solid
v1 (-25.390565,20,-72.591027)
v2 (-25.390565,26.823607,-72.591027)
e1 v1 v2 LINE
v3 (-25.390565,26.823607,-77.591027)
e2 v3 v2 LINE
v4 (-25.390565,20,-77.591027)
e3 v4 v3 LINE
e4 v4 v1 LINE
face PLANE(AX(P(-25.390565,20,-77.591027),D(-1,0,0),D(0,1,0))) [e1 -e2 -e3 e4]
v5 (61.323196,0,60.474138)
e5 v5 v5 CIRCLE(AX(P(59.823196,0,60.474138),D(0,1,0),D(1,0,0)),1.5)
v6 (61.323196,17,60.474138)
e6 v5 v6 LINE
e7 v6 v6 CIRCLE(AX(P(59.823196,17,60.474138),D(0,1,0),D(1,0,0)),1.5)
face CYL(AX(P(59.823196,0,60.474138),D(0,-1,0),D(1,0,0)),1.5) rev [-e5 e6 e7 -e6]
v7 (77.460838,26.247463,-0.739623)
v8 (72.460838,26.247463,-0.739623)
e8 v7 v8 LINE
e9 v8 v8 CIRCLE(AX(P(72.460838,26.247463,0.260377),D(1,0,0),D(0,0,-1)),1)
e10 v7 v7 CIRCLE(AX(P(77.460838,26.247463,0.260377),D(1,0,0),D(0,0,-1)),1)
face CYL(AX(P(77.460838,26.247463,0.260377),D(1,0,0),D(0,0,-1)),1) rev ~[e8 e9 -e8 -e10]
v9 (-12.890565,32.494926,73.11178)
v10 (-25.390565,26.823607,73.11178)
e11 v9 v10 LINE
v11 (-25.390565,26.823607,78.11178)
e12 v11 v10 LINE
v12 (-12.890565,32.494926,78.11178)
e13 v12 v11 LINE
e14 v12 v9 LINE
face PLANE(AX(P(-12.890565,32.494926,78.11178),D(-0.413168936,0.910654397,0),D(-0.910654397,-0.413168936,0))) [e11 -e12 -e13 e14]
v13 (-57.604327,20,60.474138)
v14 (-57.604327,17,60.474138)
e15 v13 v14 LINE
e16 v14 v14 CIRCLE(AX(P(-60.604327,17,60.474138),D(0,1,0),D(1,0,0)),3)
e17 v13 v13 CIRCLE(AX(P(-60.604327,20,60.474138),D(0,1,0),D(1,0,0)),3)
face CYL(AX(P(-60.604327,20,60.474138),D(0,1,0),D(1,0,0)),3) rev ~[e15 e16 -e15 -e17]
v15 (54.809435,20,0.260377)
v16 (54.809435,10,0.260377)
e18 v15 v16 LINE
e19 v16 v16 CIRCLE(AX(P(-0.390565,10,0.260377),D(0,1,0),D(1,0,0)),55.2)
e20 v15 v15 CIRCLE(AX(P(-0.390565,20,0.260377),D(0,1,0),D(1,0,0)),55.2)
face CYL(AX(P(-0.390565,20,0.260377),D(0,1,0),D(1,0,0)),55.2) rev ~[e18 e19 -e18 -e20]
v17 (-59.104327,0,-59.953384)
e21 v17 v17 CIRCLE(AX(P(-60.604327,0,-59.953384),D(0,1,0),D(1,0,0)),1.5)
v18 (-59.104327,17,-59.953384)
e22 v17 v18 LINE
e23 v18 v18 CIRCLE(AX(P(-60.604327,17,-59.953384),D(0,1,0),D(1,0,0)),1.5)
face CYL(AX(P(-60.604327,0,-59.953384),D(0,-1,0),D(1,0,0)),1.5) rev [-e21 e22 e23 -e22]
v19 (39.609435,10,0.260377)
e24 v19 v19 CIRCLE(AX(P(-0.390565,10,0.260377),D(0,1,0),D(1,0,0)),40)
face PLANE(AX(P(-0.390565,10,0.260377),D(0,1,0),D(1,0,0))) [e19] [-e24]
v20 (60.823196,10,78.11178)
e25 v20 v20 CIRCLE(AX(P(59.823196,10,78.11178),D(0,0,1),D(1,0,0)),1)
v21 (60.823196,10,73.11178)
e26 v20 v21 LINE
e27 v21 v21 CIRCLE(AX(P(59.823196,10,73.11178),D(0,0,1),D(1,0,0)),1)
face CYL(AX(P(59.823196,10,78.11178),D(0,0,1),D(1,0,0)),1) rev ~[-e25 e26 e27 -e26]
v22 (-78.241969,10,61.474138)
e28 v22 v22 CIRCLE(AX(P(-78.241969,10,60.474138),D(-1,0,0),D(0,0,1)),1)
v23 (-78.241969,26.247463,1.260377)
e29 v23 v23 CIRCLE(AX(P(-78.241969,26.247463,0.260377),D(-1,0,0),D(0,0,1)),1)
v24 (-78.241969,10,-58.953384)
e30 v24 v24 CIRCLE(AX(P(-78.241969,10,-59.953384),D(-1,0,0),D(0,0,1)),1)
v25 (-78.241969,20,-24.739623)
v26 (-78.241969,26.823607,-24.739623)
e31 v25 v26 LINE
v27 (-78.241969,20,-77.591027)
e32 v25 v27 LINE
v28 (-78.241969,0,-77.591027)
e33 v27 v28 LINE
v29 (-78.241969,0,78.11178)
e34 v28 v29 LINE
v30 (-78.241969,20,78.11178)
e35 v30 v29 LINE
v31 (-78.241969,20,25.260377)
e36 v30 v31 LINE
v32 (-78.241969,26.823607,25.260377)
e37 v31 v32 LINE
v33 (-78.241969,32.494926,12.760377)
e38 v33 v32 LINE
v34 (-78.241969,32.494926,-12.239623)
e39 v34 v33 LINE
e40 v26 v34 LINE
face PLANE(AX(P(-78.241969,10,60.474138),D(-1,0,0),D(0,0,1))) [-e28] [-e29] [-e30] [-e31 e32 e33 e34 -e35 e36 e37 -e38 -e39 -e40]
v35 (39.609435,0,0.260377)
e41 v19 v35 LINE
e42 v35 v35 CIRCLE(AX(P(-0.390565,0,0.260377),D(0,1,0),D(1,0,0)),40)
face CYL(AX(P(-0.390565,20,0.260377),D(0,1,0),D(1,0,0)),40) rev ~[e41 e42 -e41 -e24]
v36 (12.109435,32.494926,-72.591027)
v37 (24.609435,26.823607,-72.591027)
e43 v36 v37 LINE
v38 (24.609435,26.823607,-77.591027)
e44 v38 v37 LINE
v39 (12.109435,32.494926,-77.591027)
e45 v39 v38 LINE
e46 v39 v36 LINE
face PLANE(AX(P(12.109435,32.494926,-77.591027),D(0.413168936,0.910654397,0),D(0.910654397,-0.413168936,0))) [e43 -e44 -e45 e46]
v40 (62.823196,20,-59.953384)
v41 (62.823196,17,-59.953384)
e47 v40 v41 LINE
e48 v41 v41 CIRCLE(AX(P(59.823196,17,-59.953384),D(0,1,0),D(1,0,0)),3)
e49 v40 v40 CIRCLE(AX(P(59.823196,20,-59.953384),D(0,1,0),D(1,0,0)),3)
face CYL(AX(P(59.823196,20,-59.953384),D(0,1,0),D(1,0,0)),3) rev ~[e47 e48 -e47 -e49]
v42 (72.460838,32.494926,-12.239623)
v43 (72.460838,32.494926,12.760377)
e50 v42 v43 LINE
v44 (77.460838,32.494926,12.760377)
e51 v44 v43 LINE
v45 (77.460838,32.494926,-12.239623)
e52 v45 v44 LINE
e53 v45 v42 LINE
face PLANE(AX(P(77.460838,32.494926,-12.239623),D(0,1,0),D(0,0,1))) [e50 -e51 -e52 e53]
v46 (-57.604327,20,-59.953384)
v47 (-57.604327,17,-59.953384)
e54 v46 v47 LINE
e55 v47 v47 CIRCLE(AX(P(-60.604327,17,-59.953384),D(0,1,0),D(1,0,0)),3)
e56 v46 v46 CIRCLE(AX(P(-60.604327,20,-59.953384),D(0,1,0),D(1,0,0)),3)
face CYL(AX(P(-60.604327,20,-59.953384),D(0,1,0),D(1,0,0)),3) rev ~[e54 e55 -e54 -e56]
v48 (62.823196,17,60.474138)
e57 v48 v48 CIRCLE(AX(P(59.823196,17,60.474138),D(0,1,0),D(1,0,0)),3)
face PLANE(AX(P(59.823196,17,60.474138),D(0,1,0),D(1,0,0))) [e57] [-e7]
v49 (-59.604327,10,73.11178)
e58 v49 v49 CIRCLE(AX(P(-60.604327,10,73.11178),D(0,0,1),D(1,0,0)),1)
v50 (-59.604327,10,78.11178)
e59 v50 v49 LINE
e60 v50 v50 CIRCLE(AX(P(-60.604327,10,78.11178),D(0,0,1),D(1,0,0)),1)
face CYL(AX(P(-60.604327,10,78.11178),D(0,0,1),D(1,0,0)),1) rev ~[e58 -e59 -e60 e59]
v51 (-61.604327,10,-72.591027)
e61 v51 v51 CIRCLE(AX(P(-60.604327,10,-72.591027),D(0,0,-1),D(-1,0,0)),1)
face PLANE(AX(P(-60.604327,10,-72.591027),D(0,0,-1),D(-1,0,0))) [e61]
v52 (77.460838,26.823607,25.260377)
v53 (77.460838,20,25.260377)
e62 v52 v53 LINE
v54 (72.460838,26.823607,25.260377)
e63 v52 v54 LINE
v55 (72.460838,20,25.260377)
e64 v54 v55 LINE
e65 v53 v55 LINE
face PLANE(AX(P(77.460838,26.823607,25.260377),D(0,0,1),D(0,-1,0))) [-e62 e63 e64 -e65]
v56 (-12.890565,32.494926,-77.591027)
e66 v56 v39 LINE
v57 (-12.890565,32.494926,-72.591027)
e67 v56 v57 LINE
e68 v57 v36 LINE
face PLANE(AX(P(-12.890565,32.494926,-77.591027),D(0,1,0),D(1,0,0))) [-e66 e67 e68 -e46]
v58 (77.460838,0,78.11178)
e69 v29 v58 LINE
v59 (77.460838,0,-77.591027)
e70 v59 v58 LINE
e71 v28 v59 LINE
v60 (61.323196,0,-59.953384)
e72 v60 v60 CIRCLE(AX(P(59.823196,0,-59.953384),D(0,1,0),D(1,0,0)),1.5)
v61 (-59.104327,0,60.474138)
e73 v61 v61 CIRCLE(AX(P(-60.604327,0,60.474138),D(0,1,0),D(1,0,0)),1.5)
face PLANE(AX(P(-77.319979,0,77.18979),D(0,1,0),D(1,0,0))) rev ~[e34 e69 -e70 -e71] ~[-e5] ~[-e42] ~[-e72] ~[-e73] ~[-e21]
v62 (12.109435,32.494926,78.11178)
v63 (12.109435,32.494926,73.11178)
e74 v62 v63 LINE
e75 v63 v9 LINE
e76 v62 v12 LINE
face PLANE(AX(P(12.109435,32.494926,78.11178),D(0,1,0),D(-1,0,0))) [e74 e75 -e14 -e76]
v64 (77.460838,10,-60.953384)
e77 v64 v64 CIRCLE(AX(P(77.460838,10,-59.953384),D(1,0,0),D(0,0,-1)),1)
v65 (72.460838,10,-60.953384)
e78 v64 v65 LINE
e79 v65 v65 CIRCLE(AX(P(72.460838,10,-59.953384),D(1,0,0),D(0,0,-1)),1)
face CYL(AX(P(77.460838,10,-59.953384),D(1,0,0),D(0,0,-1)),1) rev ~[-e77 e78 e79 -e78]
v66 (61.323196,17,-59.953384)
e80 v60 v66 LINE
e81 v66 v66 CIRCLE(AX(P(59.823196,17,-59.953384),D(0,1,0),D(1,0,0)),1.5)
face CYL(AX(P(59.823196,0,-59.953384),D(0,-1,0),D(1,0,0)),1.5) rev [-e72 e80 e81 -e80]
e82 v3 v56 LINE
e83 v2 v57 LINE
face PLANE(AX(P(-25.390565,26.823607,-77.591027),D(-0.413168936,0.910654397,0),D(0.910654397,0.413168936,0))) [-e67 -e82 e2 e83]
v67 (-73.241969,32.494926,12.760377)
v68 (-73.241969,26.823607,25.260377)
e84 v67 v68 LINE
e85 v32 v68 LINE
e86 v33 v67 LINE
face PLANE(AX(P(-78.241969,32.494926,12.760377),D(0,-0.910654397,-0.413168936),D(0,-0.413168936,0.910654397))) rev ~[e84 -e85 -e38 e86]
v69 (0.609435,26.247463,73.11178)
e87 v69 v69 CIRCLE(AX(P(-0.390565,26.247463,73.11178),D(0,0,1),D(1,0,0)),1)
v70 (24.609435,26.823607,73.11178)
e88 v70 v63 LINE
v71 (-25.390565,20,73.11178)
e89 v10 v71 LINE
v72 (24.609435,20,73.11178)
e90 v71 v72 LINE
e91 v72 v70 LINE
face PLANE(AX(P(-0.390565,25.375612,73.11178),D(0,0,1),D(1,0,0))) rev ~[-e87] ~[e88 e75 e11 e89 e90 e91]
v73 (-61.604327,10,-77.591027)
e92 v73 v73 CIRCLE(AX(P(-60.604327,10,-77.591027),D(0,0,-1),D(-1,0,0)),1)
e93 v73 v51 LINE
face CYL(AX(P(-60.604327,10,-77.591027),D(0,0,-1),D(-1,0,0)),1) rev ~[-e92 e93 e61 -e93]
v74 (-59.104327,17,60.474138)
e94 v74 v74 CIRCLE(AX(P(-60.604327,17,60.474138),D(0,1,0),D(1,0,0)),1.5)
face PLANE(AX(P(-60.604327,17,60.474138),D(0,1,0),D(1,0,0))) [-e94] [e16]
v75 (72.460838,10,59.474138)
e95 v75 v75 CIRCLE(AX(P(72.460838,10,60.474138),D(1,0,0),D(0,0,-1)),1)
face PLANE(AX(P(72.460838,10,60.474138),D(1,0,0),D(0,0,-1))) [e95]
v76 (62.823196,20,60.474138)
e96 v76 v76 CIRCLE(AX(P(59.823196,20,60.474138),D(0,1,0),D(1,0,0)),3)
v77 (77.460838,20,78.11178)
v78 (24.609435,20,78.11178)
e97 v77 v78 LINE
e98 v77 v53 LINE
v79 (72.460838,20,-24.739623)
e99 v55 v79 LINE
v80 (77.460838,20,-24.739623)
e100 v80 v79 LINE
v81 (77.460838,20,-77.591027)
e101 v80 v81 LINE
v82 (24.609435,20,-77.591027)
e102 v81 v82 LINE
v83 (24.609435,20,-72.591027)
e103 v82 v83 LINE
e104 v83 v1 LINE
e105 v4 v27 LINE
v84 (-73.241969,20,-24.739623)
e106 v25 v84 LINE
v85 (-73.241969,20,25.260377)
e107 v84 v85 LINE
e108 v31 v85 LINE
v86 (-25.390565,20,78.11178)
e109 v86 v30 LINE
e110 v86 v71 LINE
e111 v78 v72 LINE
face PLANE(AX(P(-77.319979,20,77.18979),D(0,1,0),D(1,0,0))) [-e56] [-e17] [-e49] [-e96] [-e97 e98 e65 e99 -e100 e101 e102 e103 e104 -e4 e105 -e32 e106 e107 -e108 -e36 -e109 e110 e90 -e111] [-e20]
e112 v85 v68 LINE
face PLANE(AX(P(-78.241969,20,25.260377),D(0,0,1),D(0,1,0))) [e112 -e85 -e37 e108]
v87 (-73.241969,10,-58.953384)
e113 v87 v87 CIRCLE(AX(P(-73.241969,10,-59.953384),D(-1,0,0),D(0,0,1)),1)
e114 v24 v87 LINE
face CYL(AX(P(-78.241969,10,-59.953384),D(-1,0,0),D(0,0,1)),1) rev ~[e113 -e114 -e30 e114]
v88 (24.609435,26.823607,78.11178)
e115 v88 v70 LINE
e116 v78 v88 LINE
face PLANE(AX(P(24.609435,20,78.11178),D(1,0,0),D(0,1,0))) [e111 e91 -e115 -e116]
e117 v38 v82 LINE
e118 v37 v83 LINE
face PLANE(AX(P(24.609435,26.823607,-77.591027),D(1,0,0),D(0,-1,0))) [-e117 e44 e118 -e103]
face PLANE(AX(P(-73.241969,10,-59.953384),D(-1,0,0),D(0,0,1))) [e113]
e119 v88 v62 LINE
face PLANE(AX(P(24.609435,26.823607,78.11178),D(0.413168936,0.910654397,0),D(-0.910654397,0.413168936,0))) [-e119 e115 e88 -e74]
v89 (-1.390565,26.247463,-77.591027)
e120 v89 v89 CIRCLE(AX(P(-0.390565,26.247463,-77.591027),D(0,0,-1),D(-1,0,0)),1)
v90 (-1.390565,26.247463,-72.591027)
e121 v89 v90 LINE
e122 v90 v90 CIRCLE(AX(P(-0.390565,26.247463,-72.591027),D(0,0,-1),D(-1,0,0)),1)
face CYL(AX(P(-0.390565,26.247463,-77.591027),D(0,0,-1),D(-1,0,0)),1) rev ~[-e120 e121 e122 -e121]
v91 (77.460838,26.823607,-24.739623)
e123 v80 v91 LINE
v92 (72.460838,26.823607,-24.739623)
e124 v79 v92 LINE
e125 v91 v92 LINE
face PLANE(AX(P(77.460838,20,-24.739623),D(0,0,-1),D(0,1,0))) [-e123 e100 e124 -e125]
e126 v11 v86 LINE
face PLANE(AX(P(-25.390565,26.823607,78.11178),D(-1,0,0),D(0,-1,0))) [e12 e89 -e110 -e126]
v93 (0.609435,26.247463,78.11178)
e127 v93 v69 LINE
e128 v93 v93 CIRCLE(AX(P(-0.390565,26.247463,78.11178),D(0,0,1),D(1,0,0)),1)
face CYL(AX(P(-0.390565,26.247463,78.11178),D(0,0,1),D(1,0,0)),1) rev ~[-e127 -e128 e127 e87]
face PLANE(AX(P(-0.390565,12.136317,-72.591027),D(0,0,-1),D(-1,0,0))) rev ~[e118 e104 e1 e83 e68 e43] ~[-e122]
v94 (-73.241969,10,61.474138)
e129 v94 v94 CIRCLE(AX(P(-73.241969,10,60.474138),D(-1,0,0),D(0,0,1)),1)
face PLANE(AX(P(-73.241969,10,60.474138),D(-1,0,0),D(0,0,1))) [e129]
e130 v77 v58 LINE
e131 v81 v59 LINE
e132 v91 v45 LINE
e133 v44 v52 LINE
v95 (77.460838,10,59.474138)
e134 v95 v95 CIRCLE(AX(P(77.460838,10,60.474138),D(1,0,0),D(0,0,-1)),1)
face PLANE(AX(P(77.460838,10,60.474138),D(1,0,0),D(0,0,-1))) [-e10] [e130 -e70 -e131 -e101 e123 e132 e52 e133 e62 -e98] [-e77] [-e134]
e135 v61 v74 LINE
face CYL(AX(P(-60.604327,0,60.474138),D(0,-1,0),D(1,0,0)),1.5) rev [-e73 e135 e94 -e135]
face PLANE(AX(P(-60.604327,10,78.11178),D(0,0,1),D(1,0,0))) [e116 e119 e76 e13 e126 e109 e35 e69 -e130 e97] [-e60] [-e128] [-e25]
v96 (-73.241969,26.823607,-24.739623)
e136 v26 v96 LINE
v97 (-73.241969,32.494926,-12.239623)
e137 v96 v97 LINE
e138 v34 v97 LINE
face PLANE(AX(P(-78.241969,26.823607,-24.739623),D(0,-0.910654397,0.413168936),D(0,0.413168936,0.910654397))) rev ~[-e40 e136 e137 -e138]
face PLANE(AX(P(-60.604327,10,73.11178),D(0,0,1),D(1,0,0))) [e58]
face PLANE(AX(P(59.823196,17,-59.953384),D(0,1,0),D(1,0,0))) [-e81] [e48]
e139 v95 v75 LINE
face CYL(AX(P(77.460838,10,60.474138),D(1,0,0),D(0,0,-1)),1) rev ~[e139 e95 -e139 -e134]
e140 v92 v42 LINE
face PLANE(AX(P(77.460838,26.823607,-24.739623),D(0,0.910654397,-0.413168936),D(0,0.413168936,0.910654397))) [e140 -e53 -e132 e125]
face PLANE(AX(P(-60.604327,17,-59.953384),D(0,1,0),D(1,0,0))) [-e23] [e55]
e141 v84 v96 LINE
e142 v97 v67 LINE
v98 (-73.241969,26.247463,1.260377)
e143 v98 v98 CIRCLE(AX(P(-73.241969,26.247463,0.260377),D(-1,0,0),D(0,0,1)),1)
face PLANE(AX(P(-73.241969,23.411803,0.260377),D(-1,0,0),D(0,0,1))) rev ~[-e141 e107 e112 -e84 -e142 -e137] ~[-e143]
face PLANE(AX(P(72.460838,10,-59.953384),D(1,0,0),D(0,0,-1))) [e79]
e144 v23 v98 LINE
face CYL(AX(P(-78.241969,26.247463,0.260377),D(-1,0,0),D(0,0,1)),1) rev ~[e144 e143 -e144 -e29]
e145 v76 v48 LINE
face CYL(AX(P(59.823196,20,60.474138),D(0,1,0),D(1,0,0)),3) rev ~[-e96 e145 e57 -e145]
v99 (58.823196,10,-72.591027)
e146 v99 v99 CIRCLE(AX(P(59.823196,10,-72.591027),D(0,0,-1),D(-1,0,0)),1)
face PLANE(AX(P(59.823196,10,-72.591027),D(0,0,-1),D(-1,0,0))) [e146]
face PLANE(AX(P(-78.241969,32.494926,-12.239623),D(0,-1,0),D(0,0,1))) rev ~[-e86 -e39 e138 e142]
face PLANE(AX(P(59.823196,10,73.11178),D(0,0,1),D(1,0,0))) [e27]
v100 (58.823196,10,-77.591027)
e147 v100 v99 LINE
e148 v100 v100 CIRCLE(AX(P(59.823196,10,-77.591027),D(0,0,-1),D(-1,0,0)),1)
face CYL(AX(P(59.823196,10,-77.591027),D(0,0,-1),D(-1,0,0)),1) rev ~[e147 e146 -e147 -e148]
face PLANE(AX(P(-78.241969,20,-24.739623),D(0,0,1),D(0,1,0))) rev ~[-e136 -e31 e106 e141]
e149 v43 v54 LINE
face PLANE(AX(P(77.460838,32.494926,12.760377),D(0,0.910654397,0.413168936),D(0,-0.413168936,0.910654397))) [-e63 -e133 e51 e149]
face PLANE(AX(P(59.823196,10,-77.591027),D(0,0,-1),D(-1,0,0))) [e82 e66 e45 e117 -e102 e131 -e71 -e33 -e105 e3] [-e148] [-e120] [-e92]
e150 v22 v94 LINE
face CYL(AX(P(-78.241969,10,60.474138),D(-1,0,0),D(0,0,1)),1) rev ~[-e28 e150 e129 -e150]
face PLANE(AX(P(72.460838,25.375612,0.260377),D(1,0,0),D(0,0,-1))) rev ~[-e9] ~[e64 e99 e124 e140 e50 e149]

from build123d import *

# Parameters (mm, degrees)
SKETCH1_R            = 1.5
SKETCH1_R_2          = 73
BOSS_EXTRUDE1_DEPTH  = 20
SKETCH7_R            = 73
SKETCH7_R_2          = 52.25
BOSS_EXTRUDE2_DEPTH  = 10
SKETCH8_R            = 73
BOSS_EXTRUDE3_DEPTH  = 10
BOSS_EXTRUDE4_DEPTH  = 20
SKETCH10_R           = 55.2
SKETCH10_R_2         = 52.25
CUT_EXTRUDE1_DEPTH   = 10
SKETCH11_R           = 40
CUT_EXTRUDE2_DEPTH   = 50
SKETCH12_R           = 3
SKETCH12_R_2         = 1.5
CUT_EXTRUDE3_DEPTH   = 3
SKETCH13_W           = 50
SKETCH13_H           = 6.823606938
BOSS_EXTRUDE5_DEPTH  = 5
BOSS_EXTRUDE6_DEPTH  = 5
BOSS_EXTRUDE7_DEPTH  = 5
BOSS_EXTRUDE8_DEPTH  = 5
SKETCH19_R           = 1.5
CUT_EXTRUDE4_DEPTH   = 5
SKETCH20_R           = 1.5
CUT_EXTRUDE5_DEPTH   = 5
SKETCH21_R           = 1.5
CUT_EXTRUDE6_DEPTH   = 5
SKETCH22_R           = 1.5
CUT_EXTRUDE7_DEPTH   = 5
SKETCH23_R           = 1.5
SKETCH23_R_2         = 1
BOSS_EXTRUDE9_DEPTH  = 5
SKETCH24_R           = 1.5
SKETCH24_R_2         = 1
BOSS_EXTRUDE10_DEPTH = 5
SKETCH25_R           = 1.5
SKETCH25_R_2         = 1
BOSS_EXTRUDE11_DEPTH = 5
SKETCH26_R           = 1.5
SKETCH26_R_2         = 1
BOSS_EXTRUDE12_DEPTH = 5


with BuildPart() as part:
    # Sketch1 → Boss-Extrude1 (new body)
    with BuildSketch(Plane(origin=(0, 0, 0), x_dir=(1, 0, 0), z_dir=(0, 1, 0))):
        with BuildLine():
            Line((77.460838348, -75.098177713), (77.460838348, 74.577424045))
            ThreePointArc((77.460838348, 74.577424045), (76.578174547, 76.708362964), (74.447235628, 77.591026765))
            Line((74.447235628, 77.591026765), (-75.22836613, 77.591026765))
            ThreePointArc((-75.22836613, 77.591026765), (-77.359305049, 76.708362964), (-78.24196885, 74.577424045))
            Line((-78.24196885, 74.577424045), (-78.24196885, -75.098177713))
            ThreePointArc((-78.24196885, -75.098177713), (-77.359305049, -77.229116632), (-75.22836613, -78.111780433))
            Line((-75.22836613, -78.111780433), (74.447235628, -78.111780433))
            ThreePointArc((74.447235628, -78.111780433), (76.578174547, -77.229116632), (77.460838348, -75.098177713))
        make_face()
        with Locations((-60.604326536, -60.47413812)):
            Circle(SKETCH1_R, mode=Mode.SUBTRACT)
        with Locations((-60.604326536, 59.953384452)):
            Circle(SKETCH1_R, mode=Mode.SUBTRACT)
        with Locations((59.823196035, 59.953384452)):
            Circle(SKETCH1_R, mode=Mode.SUBTRACT)
        with Locations((59.823196035, -60.47413812)):
            Circle(SKETCH1_R, mode=Mode.SUBTRACT)
        with Locations((-0.390565251, -0.260376834)):
            Circle(SKETCH1_R_2, mode=Mode.SUBTRACT)
    extrude(amount=BOSS_EXTRUDE1_DEPTH)

    # Sketch7 → Boss-Extrude2 (add)
    with BuildSketch(Plane(origin=(0, 20, 0), x_dir=(1, 0, 0), z_dir=(0, 1, 0))):
        with Locations((-0.390565251, -0.260376834)):
            Circle(SKETCH7_R)
        with Locations((-0.390565251, -0.260376834)):
            Circle(SKETCH7_R_2, mode=Mode.SUBTRACT)
    extrude(amount=-BOSS_EXTRUDE2_DEPTH)

    # Sketch8 → Boss-Extrude3 (add)
    with BuildSketch(Plane.XZ.offset(-10)):
        with Locations((-0.390565251, 0.260376834)):
            Circle(SKETCH8_R)
    extrude(amount=BOSS_EXTRUDE3_DEPTH)

    # Sketch9 → Boss-Extrude4 (add)
    with BuildSketch(Plane(origin=(0, 20, 0), x_dir=(1, 0, 0), z_dir=(0, 1, 0))):
        with BuildLine():
            ThreePointArc((-75.22836613, -78.111780433), (-77.359305049, -77.229116632), (-78.24196885, -75.098177713))
            Line((-78.24196885, -75.098177713), (-78.24196885, -78.111780433))
            Line((-78.24196885, -78.111780433), (-75.22836613, -78.111780433))
        make_face()
        with BuildLine():
            Line((77.460838348, -78.111780433), (77.460838348, -75.098177713))
            ThreePointArc((77.460838348, -75.098177713), (76.578174547, -77.229116632), (74.447235628, -78.111780433))
            Line((74.447235628, -78.111780433), (77.460838348, -78.111780433))
        make_face()
        with BuildLine():
            Line((77.460838348, 77.591026765), (74.447235628, 77.591026765))
            ThreePointArc((74.447235628, 77.591026765), (76.578174547, 76.708362964), (77.460838348, 74.577424045))
            Line((77.460838348, 74.577424045), (77.460838348, 77.591026765))
        make_face()
        with BuildLine():
            Line((-75.22836613, 77.591026765), (-78.24196885, 77.591026765))
            Line((-78.24196885, 77.591026765), (-78.24196885, 74.577424045))
            ThreePointArc((-78.24196885, 74.577424045), (-77.359305049, 76.708362964), (-75.22836613, 77.591026765))
        make_face()
    extrude(amount=-BOSS_EXTRUDE4_DEPTH)

    # Sketch10 → Cut-Extrude1 (cut)
    with BuildSketch(Plane(origin=(0, 20, 0), x_dir=(1, 0, 0), z_dir=(0, 1, 0))):
        with Locations((-0.390565251, -0.260376834)):
            Circle(SKETCH10_R)
        with Locations((-0.390565251, -0.260376834)):
            Circle(SKETCH10_R_2, mode=Mode.SUBTRACT)
    extrude(amount=-CUT_EXTRUDE1_DEPTH, mode=Mode.SUBTRACT)

    # Sketch11 → Cut-Extrude2 (cut)
    with BuildSketch(Plane(origin=(0, 20, 0), x_dir=(1, 0, 0), z_dir=(0, 1, 0))):
        with Locations((-0.390565251, -0.260376834)):
            Circle(SKETCH11_R)
    extrude(amount=-CUT_EXTRUDE2_DEPTH, mode=Mode.SUBTRACT)

    # Sketch12 → Cut-Extrude3 (cut)
    with BuildSketch(Plane(origin=(0, 20, 0), x_dir=(1, 0, 0), z_dir=(0, 1, 0))):
        with Locations((59.823196035, 59.953384452)):
            Circle(SKETCH12_R)
        with Locations((59.823196035, 59.953384452)):
            Circle(SKETCH12_R_2, mode=Mode.SUBTRACT)
        with Locations((-60.604326536, 59.953384452)):
            Circle(SKETCH12_R)
        with Locations((-60.604326536, 59.953384452)):
            Circle(SKETCH12_R_2, mode=Mode.SUBTRACT)
        with Locations((-60.604326536, -60.47413812)):
            Circle(SKETCH12_R)
        with Locations((-60.604326536, -60.47413812)):
            Circle(SKETCH12_R_2, mode=Mode.SUBTRACT)
        with Locations((59.823196035, -60.47413812)):
            Circle(SKETCH12_R)
        with Locations((59.823196035, -60.47413812)):
            Circle(SKETCH12_R_2, mode=Mode.SUBTRACT)
    extrude(amount=-CUT_EXTRUDE3_DEPTH, mode=Mode.SUBTRACT)

    # Sketch13 → Boss-Extrude5 (add)
    with BuildSketch(Plane.ZY.offset(78.24196885)):
        with Locations((0.260376834, 23.411803469)):
            Rectangle(SKETCH13_W, SKETCH13_H)
        Polygon((12.760376834, 32.49492606), (25.260376834, 26.823606938), (-24.739623166, 26.823606938), (-12.239623166, 32.49492606), align=None)
    extrude(amount=-BOSS_EXTRUDE5_DEPTH)

    # Sketch14 → Boss-Extrude6 (add)
    with BuildSketch(Plane(origin=(77.460838348, 0, 0), x_dir=(0, 0, -1), z_dir=(1, 0, 0))):
        Polygon((-25.260376834, 26.823606938), (-25.260376834, 20), (24.739623166, 20), (24.739623166, 26.823606938), (12.239623166, 32.49492606), (-12.760376834, 32.49492606), align=None)
    extrude(amount=-BOSS_EXTRUDE6_DEPTH)

    # Sketch17 → Boss-Extrude7 (add)
    with BuildSketch(Plane(origin=(0, 0, -77.591026765), x_dir=(-1, 0, 0), z_dir=(0, 0, -1))):
        Polygon((-77.460838348, 0), (78.24196885, 0), (78.24196885, 20), (25.390565251, 20), (25.390565251, 26.823606938), (12.890565251, 32.49492606), (-12.109434749, 32.49492606), (-24.609434749, 26.823606938), (-24.609434749, 20), (-77.460838348, 20), align=None)
    extrude(amount=-BOSS_EXTRUDE7_DEPTH)

    # Sketch18 → Boss-Extrude8 (add)
    with BuildSketch(Plane.XY.offset(78.111780433)):
        Polygon((-25.390565251, 20), (24.609434749, 20), (24.609434749, 26.823606938), (12.109434749, 32.49492606), (-12.890565251, 32.49492606), (-25.390565251, 26.823606938), align=None)
    extrude(amount=-BOSS_EXTRUDE8_DEPTH)

    # Sketch19 → Cut-Extrude4 (cut)
    with BuildSketch(Plane.ZY.offset(78.24196885)):
        with Locations((0.260376834, 26.24746303)):
            Circle(SKETCH19_R)
        with Locations((60.47413812, 10)):
            Circle(SKETCH19_R)
        with Locations((-59.953384452, 10)):
            Circle(SKETCH19_R)
    extrude(amount=-CUT_EXTRUDE4_DEPTH, mode=Mode.SUBTRACT)

    # Sketch20 → Cut-Extrude5 (cut)
    with BuildSketch(Plane(origin=(77.460838348, 0, 0), x_dir=(0, 0, -1), z_dir=(1, 0, 0))):
        with Locations((-60.47413812, 10)):
            Circle(SKETCH20_R)
        with Locations((59.953384452, 10)):
            Circle(SKETCH20_R)
        with Locations((-0.260376834, 26.24746303)):
            Circle(SKETCH20_R)
    extrude(amount=-CUT_EXTRUDE5_DEPTH, mode=Mode.SUBTRACT)

    # Sketch21 → Cut-Extrude6 (cut)
    with BuildSketch(Plane(origin=(0, 0, -77.591026765), x_dir=(-1, 0, 0), z_dir=(0, 0, -1))):
        with Locations((-59.823196035, 10)):
            Circle(SKETCH21_R)
        with Locations((0.390565251, 26.24746303)):
            Circle(SKETCH21_R)
        with Locations((60.604326536, 10)):
            Circle(SKETCH21_R)
    extrude(amount=-CUT_EXTRUDE6_DEPTH, mode=Mode.SUBTRACT)

    # Sketch22 → Cut-Extrude7 (cut)
    with BuildSketch(Plane.XY.offset(78.111780433)):
        with Locations((59.823196035, 10)):
            Circle(SKETCH22_R)
        with Locations((-0.390565251, 26.24746303)):
            Circle(SKETCH22_R)
        with Locations((-60.604326536, 10)):
            Circle(SKETCH22_R)
    extrude(amount=-CUT_EXTRUDE7_DEPTH, mode=Mode.SUBTRACT)

    # Sketch23 → Boss-Extrude9 (add)
    with BuildSketch(Plane.ZY.offset(78.24196885)):
        with Locations((60.47413812, 10)):
            Circle(SKETCH23_R)
        with Locations((60.47413812, 10)):
            Circle(SKETCH23_R_2, mode=Mode.SUBTRACT)
        with Locations((-59.953384452, 10)):
            Circle(SKETCH23_R)
        with Locations((-59.953384452, 10)):
            Circle(SKETCH23_R_2, mode=Mode.SUBTRACT)
        with Locations((0.260376834, 26.24746303)):
            Circle(SKETCH23_R)
        with Locations((0.260376834, 26.24746303)):
            Circle(SKETCH23_R_2, mode=Mode.SUBTRACT)
    extrude(amount=-BOSS_EXTRUDE9_DEPTH)

    # Sketch24 → Boss-Extrude10 (add)
    with BuildSketch(Plane.XY.offset(78.111780433)):
        with Locations((-60.604326536, 10)):
            Circle(SKETCH24_R)
        with Locations((-60.604326536, 10)):
            Circle(SKETCH24_R_2, mode=Mode.SUBTRACT)
        with Locations((-0.390565251, 26.24746303)):
            Circle(SKETCH24_R)
        with Locations((-0.390565251, 26.24746303)):
            Circle(SKETCH24_R_2, mode=Mode.SUBTRACT)
        with Locations((59.823196035, 10)):
            Circle(SKETCH24_R)
        with Locations((59.823196035, 10)):
            Circle(SKETCH24_R_2, mode=Mode.SUBTRACT)
    extrude(amount=-BOSS_EXTRUDE10_DEPTH)

    # Sketch25 → Boss-Extrude11 (add)
    with BuildSketch(Plane(origin=(77.460838348, 0, 0), x_dir=(0, 0, -1), z_dir=(1, 0, 0))):
        with Locations((-60.47413812, 10)):
            Circle(SKETCH25_R)
        with Locations((-60.47413812, 10)):
            Circle(SKETCH25_R_2, mode=Mode.SUBTRACT)
        with Locations((59.953384452, 10)):
            Circle(SKETCH25_R)
        with Locations((59.953384452, 10)):
            Circle(SKETCH25_R_2, mode=Mode.SUBTRACT)
        with Locations((-0.260376834, 26.24746303)):
            Circle(SKETCH25_R)
        with Locations((-0.260376834, 26.24746303)):
            Circle(SKETCH25_R_2, mode=Mode.SUBTRACT)
    extrude(amount=-BOSS_EXTRUDE11_DEPTH)

    # Sketch26 → Boss-Extrude12 (add)
    with BuildSketch(Plane(origin=(0, 0, -77.591026765), x_dir=(-1, 0, 0), z_dir=(0, 0, -1))):
        with Locations((-59.823196035, 10)):
            Circle(SKETCH26_R)
        with Locations((-59.823196035, 10)):
            Circle(SKETCH26_R_2, mode=Mode.SUBTRACT)
        with Locations((60.604326536, 10)):
            Circle(SKETCH26_R)
        with Locations((60.604326536, 10)):
            Circle(SKETCH26_R_2, mode=Mode.SUBTRACT)
        with Locations((0.390565251, 26.24746303)):
            Circle(SKETCH26_R)
        with Locations((0.390565251, 26.24746303)):
            Circle(SKETCH26_R_2, mode=Mode.SUBTRACT)
    extrude(amount=-BOSS_EXTRUDE12_DEPTH)


solid = part.part
